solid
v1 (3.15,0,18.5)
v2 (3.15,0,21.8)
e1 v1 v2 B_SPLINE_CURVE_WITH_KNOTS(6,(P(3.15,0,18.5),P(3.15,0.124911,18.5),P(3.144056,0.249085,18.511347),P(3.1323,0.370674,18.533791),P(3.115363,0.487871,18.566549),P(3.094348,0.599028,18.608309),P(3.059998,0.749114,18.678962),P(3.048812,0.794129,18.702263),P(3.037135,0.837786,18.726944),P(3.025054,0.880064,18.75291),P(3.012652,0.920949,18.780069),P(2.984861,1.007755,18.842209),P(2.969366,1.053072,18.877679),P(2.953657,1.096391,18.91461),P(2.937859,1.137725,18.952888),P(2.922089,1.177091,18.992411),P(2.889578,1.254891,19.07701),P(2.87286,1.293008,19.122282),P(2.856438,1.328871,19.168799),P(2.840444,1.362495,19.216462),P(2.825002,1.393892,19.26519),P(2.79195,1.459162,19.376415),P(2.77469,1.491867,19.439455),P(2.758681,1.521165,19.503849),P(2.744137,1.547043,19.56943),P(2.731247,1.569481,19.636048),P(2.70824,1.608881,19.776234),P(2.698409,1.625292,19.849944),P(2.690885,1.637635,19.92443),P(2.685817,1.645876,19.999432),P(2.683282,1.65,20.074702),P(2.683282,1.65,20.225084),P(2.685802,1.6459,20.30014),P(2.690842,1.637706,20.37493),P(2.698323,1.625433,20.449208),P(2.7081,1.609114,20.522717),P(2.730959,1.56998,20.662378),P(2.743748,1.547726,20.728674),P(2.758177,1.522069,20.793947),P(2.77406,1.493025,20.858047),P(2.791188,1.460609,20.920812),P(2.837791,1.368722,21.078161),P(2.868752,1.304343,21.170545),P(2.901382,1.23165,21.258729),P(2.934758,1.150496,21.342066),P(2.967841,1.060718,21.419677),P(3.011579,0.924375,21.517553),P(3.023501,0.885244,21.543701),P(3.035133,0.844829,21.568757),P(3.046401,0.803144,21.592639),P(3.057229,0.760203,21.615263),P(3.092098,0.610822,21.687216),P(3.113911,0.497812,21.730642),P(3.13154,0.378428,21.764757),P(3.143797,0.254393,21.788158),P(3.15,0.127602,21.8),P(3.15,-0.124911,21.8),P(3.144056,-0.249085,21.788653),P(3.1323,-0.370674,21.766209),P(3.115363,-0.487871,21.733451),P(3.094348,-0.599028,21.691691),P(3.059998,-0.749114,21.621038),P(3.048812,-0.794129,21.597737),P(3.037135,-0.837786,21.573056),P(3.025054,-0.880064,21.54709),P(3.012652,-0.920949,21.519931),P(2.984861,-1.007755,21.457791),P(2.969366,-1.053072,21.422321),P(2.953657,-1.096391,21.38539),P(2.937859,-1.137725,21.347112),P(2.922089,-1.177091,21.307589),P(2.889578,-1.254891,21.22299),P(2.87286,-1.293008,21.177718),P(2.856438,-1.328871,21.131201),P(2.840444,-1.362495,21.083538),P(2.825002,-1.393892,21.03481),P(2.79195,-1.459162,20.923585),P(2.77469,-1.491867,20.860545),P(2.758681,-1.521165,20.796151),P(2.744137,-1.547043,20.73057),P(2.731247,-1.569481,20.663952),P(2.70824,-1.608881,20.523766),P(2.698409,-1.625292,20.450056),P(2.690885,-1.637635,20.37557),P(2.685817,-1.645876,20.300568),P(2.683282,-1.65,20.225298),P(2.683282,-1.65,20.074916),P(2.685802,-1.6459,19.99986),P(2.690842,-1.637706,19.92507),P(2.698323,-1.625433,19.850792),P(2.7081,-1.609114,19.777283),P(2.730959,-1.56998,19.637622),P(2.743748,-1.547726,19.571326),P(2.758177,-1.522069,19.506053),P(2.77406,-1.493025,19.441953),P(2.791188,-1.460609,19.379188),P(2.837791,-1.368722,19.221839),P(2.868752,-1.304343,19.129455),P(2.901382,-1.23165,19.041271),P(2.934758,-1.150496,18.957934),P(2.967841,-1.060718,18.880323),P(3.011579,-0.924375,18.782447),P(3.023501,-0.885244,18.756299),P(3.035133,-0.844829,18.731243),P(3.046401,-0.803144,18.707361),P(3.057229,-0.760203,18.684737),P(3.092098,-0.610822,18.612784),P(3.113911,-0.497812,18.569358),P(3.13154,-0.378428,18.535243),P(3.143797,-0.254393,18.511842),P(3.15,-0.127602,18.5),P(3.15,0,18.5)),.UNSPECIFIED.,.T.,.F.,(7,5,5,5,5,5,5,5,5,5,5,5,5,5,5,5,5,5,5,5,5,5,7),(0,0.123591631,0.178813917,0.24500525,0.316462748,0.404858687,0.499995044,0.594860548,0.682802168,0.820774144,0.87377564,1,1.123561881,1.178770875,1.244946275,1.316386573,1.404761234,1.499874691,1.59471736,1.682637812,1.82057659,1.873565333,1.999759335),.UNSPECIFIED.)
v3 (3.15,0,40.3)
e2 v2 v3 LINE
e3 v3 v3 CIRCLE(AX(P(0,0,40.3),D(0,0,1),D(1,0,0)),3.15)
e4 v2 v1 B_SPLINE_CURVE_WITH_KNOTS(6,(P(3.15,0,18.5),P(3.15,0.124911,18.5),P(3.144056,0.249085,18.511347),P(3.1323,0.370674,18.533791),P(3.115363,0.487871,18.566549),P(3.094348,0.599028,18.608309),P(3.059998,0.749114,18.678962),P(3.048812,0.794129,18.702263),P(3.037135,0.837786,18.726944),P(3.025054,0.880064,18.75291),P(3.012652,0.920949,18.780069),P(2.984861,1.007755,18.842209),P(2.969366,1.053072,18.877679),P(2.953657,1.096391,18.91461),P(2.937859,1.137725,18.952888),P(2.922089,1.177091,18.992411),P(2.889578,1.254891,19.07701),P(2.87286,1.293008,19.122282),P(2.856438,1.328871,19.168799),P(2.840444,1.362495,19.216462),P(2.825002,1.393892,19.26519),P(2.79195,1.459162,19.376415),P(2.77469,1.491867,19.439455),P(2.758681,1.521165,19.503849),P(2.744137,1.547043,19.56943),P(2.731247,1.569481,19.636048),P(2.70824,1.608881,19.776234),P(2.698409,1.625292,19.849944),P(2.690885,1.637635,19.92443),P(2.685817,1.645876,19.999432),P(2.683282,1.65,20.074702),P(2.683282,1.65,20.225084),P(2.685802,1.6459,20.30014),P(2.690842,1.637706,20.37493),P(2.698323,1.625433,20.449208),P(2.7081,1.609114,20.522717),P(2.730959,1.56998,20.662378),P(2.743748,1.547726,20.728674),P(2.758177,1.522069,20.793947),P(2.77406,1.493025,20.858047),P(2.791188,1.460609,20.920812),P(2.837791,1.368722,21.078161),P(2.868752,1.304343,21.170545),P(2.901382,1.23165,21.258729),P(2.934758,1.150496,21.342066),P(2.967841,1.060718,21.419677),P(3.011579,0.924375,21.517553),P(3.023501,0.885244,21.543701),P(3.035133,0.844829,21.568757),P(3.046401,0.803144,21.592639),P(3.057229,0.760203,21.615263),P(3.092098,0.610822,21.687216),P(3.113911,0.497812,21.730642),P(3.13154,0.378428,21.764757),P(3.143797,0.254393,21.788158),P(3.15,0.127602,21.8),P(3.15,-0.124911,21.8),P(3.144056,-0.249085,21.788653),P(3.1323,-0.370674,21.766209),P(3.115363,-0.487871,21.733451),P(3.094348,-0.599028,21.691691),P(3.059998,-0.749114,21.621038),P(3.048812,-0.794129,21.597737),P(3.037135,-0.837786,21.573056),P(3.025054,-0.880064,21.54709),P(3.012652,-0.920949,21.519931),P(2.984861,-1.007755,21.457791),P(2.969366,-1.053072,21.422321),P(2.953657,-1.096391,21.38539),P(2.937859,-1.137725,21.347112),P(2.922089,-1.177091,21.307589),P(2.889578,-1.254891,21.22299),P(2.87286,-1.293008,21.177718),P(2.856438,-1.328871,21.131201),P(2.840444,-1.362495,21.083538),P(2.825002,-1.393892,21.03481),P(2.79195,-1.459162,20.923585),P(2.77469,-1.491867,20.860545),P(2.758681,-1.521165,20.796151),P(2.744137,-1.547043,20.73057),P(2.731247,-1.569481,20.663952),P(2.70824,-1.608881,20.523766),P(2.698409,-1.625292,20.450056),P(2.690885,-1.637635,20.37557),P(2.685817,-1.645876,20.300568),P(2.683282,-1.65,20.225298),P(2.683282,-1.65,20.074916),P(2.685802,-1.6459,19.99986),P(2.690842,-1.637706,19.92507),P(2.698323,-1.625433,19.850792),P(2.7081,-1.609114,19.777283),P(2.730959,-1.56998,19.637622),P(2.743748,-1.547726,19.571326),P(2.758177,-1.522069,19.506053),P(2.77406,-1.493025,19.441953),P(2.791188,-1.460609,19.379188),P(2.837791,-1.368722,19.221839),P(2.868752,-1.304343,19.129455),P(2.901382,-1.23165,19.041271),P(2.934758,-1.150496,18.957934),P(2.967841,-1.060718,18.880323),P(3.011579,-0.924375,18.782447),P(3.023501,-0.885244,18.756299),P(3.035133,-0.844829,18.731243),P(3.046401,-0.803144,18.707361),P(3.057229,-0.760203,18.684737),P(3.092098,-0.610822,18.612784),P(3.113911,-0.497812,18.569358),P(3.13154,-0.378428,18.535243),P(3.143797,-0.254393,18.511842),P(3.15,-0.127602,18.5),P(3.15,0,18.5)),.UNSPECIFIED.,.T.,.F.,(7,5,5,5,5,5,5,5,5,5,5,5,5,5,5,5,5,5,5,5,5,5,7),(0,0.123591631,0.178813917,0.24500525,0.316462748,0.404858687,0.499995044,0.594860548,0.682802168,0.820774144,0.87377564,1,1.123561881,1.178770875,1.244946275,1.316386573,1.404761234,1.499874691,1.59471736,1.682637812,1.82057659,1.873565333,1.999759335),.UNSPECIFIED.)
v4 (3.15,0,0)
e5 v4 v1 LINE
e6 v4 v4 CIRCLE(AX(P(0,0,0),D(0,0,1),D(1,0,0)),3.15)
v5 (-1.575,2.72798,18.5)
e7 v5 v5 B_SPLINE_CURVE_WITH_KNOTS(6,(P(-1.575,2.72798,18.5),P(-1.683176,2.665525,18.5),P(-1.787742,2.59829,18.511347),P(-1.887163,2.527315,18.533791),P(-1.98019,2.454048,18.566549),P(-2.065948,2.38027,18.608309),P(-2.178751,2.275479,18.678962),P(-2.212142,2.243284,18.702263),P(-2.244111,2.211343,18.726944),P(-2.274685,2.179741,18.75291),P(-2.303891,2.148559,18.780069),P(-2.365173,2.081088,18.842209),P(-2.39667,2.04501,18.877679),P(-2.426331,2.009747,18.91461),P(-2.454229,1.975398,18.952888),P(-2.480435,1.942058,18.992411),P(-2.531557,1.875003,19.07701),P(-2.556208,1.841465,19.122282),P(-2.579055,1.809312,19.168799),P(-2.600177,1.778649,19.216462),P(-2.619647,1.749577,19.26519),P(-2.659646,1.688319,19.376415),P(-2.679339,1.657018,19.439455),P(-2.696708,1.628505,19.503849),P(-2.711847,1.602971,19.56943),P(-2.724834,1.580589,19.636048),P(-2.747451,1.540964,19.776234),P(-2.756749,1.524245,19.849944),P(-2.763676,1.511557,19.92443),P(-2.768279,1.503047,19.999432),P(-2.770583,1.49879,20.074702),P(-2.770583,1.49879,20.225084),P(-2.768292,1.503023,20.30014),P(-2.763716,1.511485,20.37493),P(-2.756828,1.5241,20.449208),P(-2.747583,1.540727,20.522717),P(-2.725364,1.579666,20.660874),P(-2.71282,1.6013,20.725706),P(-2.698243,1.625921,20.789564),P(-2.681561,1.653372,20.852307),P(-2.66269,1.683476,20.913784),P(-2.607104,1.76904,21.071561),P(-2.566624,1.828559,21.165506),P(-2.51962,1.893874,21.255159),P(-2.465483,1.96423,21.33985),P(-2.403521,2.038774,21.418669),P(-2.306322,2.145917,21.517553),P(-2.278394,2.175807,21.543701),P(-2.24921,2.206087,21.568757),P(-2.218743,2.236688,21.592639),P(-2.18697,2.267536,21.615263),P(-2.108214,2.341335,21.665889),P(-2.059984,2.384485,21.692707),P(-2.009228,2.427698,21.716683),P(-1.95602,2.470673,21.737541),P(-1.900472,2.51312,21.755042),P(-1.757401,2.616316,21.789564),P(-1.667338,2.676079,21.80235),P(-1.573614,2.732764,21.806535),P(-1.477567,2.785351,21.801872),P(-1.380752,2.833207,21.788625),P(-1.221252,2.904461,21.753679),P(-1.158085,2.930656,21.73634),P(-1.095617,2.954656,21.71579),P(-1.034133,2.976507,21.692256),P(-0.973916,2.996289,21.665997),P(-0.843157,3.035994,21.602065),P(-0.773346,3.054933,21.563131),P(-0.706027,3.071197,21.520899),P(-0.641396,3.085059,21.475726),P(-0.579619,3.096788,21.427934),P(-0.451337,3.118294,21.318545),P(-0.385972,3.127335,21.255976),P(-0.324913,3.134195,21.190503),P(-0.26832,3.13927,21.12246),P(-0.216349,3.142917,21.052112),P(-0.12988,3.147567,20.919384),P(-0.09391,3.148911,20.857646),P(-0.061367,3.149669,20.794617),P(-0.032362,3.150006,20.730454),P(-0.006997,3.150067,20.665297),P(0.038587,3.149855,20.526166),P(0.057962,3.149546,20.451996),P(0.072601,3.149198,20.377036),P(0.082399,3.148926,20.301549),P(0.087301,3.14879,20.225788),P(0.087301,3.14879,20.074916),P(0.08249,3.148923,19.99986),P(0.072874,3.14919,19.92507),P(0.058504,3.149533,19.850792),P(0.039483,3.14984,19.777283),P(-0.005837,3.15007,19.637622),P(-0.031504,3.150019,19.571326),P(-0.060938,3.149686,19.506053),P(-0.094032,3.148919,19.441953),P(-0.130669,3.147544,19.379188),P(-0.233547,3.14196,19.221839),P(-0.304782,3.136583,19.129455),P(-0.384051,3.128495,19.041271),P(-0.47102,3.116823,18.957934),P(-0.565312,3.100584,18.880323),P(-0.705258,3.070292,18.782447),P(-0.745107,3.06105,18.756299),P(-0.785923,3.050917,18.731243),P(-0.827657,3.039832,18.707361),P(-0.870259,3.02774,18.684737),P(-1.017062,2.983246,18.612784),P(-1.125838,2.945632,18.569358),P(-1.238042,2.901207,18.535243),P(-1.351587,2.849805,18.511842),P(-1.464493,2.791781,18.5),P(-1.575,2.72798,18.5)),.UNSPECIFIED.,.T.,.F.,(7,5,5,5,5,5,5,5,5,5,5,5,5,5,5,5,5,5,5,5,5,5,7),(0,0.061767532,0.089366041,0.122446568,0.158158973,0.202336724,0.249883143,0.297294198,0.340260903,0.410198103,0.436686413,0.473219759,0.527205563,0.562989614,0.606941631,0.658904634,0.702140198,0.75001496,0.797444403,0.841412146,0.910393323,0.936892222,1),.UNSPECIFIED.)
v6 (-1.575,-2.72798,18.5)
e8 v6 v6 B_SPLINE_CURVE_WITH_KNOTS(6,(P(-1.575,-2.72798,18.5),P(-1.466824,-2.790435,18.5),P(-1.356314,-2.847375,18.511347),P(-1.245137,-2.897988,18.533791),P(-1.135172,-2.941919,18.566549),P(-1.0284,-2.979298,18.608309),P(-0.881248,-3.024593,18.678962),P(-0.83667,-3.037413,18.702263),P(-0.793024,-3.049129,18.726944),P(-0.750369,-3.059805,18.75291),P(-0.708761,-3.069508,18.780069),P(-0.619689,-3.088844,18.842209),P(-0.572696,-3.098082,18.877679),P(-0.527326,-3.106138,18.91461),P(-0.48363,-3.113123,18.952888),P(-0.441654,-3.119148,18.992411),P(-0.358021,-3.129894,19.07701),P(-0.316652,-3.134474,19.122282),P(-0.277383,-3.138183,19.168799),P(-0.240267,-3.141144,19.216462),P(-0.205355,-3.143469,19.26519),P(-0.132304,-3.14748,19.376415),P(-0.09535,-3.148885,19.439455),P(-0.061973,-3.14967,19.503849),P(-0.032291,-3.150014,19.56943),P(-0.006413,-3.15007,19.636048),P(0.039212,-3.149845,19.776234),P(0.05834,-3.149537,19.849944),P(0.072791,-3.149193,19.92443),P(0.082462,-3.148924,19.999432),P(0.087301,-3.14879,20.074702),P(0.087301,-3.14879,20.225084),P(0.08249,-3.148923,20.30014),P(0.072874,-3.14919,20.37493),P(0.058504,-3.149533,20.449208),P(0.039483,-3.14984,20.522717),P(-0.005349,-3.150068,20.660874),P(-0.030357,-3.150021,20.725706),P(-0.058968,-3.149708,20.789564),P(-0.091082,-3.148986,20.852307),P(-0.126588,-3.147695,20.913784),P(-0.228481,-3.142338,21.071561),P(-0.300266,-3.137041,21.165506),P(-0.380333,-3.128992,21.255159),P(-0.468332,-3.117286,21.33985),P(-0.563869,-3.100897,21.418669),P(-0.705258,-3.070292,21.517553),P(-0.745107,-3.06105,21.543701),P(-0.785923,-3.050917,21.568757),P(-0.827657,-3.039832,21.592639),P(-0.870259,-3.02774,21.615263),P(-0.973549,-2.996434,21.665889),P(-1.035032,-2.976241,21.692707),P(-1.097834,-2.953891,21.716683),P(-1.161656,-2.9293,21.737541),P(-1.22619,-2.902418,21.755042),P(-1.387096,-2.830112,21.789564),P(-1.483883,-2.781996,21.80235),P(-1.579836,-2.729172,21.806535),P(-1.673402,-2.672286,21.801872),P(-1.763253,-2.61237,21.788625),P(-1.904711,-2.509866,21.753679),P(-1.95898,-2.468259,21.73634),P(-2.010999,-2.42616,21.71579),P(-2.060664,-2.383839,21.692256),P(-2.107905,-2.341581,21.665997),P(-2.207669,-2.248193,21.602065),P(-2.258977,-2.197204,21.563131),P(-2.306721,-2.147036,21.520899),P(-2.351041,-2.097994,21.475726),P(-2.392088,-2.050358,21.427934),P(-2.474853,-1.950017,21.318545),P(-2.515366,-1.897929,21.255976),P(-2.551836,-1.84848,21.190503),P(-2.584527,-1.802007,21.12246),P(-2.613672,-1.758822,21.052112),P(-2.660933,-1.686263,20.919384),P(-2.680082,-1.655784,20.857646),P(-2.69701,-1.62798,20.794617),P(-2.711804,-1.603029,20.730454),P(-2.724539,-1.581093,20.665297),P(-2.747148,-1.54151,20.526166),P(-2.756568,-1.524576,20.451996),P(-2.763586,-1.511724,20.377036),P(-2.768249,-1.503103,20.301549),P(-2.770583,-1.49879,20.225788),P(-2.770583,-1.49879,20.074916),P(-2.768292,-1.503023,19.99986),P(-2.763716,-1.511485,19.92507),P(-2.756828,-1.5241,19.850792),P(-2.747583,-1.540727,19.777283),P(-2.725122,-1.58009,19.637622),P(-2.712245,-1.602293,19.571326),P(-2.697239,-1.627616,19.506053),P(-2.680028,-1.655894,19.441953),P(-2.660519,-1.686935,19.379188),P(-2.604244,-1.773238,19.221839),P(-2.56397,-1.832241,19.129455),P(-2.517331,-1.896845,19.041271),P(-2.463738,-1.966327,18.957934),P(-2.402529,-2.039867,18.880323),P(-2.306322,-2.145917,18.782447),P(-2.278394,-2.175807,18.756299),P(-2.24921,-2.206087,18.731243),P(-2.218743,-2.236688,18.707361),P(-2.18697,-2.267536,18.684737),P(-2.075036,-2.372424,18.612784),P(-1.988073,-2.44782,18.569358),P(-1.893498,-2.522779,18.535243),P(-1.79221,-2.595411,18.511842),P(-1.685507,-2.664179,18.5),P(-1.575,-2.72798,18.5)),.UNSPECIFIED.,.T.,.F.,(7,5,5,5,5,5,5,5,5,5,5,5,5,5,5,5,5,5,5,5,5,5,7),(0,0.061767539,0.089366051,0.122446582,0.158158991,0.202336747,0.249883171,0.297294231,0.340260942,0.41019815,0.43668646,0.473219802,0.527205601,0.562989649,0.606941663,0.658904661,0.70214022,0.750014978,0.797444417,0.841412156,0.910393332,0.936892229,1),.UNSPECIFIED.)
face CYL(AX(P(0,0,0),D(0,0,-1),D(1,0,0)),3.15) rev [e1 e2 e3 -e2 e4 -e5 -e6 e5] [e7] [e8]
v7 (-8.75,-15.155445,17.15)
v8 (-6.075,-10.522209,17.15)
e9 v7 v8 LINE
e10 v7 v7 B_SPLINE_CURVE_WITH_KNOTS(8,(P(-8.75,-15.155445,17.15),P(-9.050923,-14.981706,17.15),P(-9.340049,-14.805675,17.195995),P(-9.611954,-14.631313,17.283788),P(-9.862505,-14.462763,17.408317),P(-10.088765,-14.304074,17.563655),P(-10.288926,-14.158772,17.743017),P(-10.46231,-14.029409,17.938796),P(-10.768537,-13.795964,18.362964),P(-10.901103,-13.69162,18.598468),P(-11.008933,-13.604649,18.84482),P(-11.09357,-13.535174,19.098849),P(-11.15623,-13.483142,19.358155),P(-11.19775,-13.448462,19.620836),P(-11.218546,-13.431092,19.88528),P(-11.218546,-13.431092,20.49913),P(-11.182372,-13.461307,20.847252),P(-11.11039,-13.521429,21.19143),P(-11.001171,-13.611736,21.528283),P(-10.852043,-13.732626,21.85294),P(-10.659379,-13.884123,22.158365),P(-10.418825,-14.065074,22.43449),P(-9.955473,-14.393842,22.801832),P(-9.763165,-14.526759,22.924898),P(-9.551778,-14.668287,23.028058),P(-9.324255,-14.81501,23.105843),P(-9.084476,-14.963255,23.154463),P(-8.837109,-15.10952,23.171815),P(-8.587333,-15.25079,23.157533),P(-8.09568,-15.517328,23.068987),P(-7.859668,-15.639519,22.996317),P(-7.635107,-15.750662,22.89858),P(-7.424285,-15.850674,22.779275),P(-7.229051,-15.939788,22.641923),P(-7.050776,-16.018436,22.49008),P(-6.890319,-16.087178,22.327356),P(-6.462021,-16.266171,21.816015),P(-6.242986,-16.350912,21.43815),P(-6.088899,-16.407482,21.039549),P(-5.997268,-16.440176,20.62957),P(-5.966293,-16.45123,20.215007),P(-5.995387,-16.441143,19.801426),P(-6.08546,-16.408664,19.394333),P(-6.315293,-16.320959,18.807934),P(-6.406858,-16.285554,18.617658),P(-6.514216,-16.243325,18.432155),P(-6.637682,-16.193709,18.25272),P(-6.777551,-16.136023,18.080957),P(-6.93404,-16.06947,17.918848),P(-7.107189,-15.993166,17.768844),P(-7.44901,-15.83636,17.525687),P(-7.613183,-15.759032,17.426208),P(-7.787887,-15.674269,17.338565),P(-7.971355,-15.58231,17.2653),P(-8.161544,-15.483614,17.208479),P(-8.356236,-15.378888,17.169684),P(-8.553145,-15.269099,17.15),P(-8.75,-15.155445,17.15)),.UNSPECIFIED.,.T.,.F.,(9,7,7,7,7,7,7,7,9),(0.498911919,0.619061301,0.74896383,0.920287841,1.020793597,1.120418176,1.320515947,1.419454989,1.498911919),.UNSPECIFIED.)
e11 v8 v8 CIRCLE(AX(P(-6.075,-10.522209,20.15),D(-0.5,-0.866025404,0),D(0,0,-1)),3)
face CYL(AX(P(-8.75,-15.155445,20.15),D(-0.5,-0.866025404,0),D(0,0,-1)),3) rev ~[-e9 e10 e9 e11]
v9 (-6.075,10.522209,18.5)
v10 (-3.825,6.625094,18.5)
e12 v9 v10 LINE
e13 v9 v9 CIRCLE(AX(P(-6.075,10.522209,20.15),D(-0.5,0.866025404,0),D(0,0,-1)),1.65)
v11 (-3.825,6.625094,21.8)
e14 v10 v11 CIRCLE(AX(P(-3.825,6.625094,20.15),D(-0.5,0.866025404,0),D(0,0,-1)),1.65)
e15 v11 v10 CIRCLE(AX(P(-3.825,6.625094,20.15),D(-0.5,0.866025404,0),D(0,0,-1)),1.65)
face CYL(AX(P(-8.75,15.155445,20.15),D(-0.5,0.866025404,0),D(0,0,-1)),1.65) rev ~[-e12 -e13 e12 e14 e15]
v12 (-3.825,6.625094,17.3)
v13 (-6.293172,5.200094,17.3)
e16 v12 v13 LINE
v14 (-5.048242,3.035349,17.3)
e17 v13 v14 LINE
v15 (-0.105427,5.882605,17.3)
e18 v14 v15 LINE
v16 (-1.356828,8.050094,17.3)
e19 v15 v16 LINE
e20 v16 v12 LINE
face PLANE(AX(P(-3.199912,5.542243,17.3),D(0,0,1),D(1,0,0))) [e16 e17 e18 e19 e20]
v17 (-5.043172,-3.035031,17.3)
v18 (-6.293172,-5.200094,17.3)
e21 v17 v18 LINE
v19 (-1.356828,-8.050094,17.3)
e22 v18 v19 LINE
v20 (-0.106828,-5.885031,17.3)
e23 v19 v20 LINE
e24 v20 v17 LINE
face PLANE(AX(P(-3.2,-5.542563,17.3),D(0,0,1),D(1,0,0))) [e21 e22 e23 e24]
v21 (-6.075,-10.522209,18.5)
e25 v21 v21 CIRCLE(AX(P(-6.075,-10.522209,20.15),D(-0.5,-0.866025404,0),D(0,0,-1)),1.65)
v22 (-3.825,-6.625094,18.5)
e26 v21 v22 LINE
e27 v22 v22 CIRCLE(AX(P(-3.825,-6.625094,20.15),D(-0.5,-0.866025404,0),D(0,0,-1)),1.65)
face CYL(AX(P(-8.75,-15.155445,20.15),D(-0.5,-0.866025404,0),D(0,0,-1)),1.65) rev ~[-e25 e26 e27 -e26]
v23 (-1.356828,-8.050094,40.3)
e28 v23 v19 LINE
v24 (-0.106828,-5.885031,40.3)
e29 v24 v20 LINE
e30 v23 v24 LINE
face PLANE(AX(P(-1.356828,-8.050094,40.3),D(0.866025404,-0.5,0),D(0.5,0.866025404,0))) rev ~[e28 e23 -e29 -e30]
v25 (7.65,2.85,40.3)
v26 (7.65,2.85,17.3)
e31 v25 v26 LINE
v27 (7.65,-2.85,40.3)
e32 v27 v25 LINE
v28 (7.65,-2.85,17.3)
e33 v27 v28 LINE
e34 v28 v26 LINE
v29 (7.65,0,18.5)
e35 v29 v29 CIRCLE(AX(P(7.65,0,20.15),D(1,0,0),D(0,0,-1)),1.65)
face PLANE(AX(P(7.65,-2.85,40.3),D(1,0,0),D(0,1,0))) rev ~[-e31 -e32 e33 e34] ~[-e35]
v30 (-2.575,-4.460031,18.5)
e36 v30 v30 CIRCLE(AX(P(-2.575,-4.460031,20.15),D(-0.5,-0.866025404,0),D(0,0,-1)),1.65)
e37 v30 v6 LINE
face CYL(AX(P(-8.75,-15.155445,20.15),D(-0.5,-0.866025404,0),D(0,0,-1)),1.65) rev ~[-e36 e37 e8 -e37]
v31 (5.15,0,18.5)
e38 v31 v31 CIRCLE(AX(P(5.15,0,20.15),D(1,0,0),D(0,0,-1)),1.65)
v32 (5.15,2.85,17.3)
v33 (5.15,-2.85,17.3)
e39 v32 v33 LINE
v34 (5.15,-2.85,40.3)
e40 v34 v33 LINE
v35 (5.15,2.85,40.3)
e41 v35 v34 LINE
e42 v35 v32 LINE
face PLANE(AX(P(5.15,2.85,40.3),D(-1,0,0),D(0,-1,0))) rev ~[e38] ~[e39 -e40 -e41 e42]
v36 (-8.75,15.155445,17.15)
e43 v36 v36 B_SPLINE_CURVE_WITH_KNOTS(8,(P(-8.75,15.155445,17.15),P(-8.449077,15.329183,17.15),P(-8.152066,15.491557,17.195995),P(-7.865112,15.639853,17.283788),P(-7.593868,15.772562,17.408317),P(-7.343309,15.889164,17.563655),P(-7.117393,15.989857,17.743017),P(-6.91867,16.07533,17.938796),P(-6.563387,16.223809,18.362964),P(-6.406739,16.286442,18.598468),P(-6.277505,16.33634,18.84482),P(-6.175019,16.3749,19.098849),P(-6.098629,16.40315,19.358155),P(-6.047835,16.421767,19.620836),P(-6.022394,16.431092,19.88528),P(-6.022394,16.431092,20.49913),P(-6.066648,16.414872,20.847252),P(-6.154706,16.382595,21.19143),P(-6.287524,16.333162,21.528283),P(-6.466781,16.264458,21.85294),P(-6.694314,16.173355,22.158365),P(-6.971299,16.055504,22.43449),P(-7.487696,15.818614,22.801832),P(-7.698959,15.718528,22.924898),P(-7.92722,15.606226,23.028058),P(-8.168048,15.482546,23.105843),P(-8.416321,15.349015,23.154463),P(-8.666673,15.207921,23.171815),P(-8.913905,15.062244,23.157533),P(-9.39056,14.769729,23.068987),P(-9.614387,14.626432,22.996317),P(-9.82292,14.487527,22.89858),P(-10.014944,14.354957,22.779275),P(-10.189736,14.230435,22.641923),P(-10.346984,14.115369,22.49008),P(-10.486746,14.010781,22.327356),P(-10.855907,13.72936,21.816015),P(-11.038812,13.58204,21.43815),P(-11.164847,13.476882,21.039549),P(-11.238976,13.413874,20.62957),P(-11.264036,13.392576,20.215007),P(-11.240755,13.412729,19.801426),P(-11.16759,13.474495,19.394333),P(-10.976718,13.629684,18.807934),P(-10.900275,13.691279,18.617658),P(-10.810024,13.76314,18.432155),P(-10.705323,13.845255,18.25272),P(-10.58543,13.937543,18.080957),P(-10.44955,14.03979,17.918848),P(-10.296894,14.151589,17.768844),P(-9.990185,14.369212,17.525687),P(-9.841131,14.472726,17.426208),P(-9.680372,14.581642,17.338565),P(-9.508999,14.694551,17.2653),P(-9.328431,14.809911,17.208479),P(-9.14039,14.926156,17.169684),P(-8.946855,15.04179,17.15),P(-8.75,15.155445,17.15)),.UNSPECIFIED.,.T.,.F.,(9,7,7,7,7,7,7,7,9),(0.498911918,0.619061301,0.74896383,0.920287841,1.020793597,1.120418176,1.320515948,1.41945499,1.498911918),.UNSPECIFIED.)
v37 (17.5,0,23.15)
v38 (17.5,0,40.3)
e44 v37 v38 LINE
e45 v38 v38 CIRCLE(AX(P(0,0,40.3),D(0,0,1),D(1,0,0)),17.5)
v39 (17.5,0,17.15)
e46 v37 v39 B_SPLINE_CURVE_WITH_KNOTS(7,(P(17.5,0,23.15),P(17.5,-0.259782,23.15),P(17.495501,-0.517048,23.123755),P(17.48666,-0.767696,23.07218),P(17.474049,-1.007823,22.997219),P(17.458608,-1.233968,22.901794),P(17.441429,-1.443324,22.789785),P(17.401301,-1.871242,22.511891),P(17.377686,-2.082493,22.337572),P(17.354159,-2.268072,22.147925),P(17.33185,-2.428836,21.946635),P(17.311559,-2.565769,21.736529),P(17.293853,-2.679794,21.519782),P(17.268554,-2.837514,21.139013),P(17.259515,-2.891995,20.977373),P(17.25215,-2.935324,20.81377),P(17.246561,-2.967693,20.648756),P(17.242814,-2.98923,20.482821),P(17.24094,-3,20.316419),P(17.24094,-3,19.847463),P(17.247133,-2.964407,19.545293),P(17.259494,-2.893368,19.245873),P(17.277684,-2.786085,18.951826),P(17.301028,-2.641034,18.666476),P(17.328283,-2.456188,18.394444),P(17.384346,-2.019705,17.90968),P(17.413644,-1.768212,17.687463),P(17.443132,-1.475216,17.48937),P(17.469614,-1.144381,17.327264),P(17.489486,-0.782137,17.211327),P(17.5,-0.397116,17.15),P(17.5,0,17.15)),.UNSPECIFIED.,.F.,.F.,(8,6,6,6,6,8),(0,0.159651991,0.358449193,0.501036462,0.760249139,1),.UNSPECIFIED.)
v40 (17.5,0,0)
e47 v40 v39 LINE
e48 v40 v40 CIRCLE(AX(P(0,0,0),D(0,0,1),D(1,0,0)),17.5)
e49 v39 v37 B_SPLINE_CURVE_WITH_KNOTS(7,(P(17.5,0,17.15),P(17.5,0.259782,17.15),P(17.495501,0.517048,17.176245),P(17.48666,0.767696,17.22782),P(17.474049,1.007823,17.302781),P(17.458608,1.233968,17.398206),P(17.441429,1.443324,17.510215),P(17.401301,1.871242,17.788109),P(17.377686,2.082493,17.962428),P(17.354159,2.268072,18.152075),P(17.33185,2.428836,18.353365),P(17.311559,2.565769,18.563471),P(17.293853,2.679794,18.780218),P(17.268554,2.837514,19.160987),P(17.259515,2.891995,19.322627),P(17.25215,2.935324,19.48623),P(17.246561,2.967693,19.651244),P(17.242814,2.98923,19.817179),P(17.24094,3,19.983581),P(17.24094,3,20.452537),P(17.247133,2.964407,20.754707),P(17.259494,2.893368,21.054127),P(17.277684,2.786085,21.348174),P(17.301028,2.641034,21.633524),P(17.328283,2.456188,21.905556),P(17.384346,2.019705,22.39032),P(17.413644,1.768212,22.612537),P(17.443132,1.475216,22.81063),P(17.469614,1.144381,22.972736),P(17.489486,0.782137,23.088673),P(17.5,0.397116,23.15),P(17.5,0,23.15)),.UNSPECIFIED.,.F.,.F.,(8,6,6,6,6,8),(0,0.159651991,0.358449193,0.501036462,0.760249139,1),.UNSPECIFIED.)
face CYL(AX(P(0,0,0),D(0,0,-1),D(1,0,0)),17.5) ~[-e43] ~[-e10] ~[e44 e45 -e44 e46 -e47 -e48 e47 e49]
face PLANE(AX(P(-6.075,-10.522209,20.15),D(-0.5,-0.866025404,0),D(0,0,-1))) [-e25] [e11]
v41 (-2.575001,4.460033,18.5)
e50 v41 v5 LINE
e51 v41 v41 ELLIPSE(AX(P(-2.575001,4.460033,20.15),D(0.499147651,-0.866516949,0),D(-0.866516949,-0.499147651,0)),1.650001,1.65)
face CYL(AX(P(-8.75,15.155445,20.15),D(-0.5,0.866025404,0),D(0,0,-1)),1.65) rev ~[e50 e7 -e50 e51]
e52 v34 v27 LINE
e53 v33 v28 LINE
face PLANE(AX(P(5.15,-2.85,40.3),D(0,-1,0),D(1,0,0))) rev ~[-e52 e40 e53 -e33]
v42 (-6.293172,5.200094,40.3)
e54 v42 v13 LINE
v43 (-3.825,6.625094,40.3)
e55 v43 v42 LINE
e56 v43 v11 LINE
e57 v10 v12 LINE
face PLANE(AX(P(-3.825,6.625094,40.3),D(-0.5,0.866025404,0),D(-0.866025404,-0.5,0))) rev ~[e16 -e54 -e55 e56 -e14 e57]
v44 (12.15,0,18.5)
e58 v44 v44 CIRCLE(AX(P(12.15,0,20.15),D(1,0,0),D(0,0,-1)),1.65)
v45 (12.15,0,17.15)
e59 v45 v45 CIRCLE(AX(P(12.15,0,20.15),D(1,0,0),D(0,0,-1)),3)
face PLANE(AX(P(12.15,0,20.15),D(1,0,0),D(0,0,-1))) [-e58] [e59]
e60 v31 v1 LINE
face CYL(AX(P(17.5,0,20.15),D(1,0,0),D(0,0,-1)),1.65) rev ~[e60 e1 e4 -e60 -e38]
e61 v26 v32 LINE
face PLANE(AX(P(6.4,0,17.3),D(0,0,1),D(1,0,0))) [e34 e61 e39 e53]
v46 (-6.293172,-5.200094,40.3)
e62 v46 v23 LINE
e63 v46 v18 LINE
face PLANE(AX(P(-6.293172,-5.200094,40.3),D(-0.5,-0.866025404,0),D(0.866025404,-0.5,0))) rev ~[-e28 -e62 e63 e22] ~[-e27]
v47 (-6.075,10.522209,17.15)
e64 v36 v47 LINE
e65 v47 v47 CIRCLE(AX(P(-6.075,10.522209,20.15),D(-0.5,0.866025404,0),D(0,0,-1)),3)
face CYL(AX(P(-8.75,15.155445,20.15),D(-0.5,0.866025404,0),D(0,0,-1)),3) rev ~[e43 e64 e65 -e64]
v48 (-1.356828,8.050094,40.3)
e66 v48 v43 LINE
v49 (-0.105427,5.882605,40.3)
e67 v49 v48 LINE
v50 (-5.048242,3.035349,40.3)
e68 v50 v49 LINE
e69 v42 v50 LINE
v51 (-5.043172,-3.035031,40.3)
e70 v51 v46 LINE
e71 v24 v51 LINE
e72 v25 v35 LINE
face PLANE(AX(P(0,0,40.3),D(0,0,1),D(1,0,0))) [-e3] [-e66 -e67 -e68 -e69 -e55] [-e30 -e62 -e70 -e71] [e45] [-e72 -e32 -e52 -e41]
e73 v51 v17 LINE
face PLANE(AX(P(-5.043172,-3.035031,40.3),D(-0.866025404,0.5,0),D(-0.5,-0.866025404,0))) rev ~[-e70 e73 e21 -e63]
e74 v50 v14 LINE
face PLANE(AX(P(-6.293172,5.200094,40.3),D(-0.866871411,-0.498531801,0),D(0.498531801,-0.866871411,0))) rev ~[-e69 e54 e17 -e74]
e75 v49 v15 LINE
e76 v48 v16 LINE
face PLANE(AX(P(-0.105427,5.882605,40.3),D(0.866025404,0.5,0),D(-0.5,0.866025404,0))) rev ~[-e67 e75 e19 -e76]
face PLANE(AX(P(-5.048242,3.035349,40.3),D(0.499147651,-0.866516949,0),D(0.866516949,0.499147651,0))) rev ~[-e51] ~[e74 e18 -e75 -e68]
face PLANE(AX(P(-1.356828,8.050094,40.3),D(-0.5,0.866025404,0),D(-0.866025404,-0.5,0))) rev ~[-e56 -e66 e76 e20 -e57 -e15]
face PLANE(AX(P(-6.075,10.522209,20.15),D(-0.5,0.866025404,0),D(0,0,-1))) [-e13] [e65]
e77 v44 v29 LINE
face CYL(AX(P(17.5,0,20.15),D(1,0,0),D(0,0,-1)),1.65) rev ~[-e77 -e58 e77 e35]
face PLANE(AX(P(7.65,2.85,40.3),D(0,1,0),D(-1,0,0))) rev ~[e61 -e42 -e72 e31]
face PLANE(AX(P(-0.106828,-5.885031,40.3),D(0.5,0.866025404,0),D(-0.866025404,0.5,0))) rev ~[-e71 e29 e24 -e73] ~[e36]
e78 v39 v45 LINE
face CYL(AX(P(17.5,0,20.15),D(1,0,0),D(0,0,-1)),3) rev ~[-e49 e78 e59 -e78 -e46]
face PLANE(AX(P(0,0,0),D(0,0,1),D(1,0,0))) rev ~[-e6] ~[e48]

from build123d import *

# Parameters (mm, degrees)
SKETCH1_R           = 17.5
SKETCH1_R_2         = 3.15
BOSS_EXTRUDE1_DEPTH = 40.3
CUT_EXTRUDE1_DEPTH  = 23
CUT_EXTRUDE4_REACH  = 43.405
SKETCH8_R           = 1.65
CUT_EXTRUDE5_REACH  = 43.405
SKETCH10_R          = 1.65
SKETCH12_R          = 3
CUT_EXTRUDE6_DEPTH  = 5.35
SKETCH15_R          = 3
CUT_EXTRUDE8_DEPTH  = 5.35
CUT_EXTRUDE9_REACH  = 43.405
SKETCH17_R          = 1.65
CUT_EXTRUDE10_REACH = 43.405
SKETCH18_R          = 1.65
SKETCH19_R          = 3
CUT_EXTRUDE11_DEPTH = 5.35
CUT_EXTRUDE12_REACH = 37
SKETCH20_R          = 1.65
CUT_EXTRUDE13_REACH = 37
SKETCH21_R          = 1.65


with BuildPart() as part:
    # Sketch1 → Boss-Extrude1 (new body)
    with BuildSketch(Plane.XY):
        Circle(SKETCH1_R)
        Circle(SKETCH1_R_2, mode=Mode.SUBTRACT)
    extrude(amount=BOSS_EXTRUDE1_DEPTH)

    # Sketch2 → Cut-Extrude1 (cut)
    with BuildSketch(Plane.XY.offset(40.3)):
        Polygon((7.65, 0), (7.65, 2.85), (5.15, 2.85), (5.15, -2.85), (7.65, -2.85), align=None)
        Polygon((-3.825, -6.625094339), (-1.356827599, -8.050094339), (-0.106827599, -5.885030829), (-5.043172401, -3.035030829), (-6.293172401, -5.200094339), align=None)
        Polygon((-3.825, 6.625094339), (-6.293172401, 5.200094339), (-5.048242412, 3.035349353), (-0.105426694, 5.882604512), (-1.356827546, 8.050094369), align=None)
    extrude(amount=-CUT_EXTRUDE1_DEPTH, mode=Mode.SUBTRACT)

    # Sketch8 → Cut-Extrude4 (cut, up to next)
    with BuildSketch(Plane(origin=(-8.75, -15.155444566, 0), x_dir=(0, 0, -1), z_dir=(-0.5, -0.866025404, 0)), mode=Mode.PRIVATE) as cut_extrude4_sk1:
        with Locations((-20.15, 0)):
            Circle(SKETCH8_R)
    cut_extrude4_tool1 = extrude(cut_extrude4_sk1.sketch, amount=-CUT_EXTRUDE4_REACH, mode=Mode.PRIVATE) & part.part
    add(cut_extrude4_tool1.solids().sort_by_distance((-8.75, -15.155445, 20.15))[0], mode=Mode.SUBTRACT)

    # Sketch10 → Cut-Extrude5 (cut, up to next)
    with BuildSketch(Plane(origin=(-8.75, -15.155444566, 0), x_dir=(0, 0, -1), z_dir=(-0.5, -0.866025404, 0)), mode=Mode.PRIVATE) as cut_extrude5_sk1:
        with Locations((-20.15, 0)):
            Circle(SKETCH10_R)
    cut_extrude5_tool1 = extrude(cut_extrude5_sk1.sketch, amount=-CUT_EXTRUDE5_REACH, mode=Mode.PRIVATE) & part.part
    add(cut_extrude5_tool1.solids().sort_by_distance((-8.75, -15.155445, 20.15))[0], mode=Mode.SUBTRACT)

    # Sketch12 → Cut-Extrude6 (cut)
    with BuildSketch(Plane(origin=(-8.75, -15.155444566, 0), x_dir=(0, 0, -1), z_dir=(-0.5, -0.866025404, 0))):
        with Locations((-20.15, 0)):
            Circle(SKETCH12_R)
    extrude(amount=-CUT_EXTRUDE6_DEPTH, mode=Mode.SUBTRACT)

    # Sketch15 → Cut-Extrude8 (cut)
    with BuildSketch(Plane(origin=(-8.75, 15.155444566, 0), x_dir=(0, 0, -1), z_dir=(-0.5, 0.866025404, 0))):
        with Locations((-20.15, 0)):
            Circle(SKETCH15_R)
    extrude(amount=-CUT_EXTRUDE8_DEPTH, mode=Mode.SUBTRACT)

    # Sketch17 → Cut-Extrude9 (cut, up to next)
    with BuildSketch(Plane(origin=(-8.75, 15.155444566, 0), x_dir=(0, 0, -1), z_dir=(-0.5, 0.866025404, 0)), mode=Mode.PRIVATE) as cut_extrude9_sk1:
        with Locations((-20.15, 0)):
            Circle(SKETCH17_R)
    cut_extrude9_tool1 = extrude(cut_extrude9_sk1.sketch, amount=-CUT_EXTRUDE9_REACH, mode=Mode.PRIVATE) & part.part
    add(cut_extrude9_tool1.solids().sort_by_distance((-8.75, 15.155445, 20.15))[0], mode=Mode.SUBTRACT)

    # Sketch18 → Cut-Extrude10 (cut, up to next)
    with BuildSketch(Plane(origin=(-8.75, 15.155444566, 0), x_dir=(0, 0, -1), z_dir=(-0.5, 0.866025404, 0)), mode=Mode.PRIVATE) as cut_extrude10_sk1:
        with Locations((-20.15, 0)):
            Circle(SKETCH18_R)
    cut_extrude10_tool1 = extrude(cut_extrude10_sk1.sketch, amount=-CUT_EXTRUDE10_REACH, mode=Mode.PRIVATE) & part.part
    add(cut_extrude10_tool1.solids().sort_by_distance((-8.75, 15.155445, 20.15))[0], mode=Mode.SUBTRACT)

    # Sketch19 → Cut-Extrude11 (cut)
    with BuildSketch(Plane(origin=(17.5, 0, 0), x_dir=(0, 0, -1), z_dir=(1, 0, 0))):
        with Locations((-20.15, 0)):
            Circle(SKETCH19_R)
    extrude(amount=-CUT_EXTRUDE11_DEPTH, mode=Mode.SUBTRACT)

    # Sketch20 → Cut-Extrude12 (cut, up to next)
    with BuildSketch(Plane(origin=(17.5, 0, 0), x_dir=(0, 0, -1), z_dir=(1, 0, 0)), mode=Mode.PRIVATE) as cut_extrude12_sk1:
        with Locations((-20.15, 0)):
            Circle(SKETCH20_R)
    cut_extrude12_tool1 = extrude(cut_extrude12_sk1.sketch, amount=-CUT_EXTRUDE12_REACH, mode=Mode.PRIVATE) & part.part
    add(cut_extrude12_tool1.solids().sort_by_distance((17.5, 0, 20.15))[0], mode=Mode.SUBTRACT)

    # Sketch21 → Cut-Extrude13 (cut, up to next)
    with BuildSketch(Plane(origin=(17.5, 0, 0), x_dir=(0, 0, -1), z_dir=(1, 0, 0)), mode=Mode.PRIVATE) as cut_extrude13_sk1:
        with Locations((-20.15, 0)):
            Circle(SKETCH21_R)
    cut_extrude13_tool1 = extrude(cut_extrude13_sk1.sketch, amount=-CUT_EXTRUDE13_REACH, mode=Mode.PRIVATE) & part.part
    add(cut_extrude13_tool1.solids().sort_by_distance((17.5, 0, 20.15))[0], mode=Mode.SUBTRACT)


solid = part.part
